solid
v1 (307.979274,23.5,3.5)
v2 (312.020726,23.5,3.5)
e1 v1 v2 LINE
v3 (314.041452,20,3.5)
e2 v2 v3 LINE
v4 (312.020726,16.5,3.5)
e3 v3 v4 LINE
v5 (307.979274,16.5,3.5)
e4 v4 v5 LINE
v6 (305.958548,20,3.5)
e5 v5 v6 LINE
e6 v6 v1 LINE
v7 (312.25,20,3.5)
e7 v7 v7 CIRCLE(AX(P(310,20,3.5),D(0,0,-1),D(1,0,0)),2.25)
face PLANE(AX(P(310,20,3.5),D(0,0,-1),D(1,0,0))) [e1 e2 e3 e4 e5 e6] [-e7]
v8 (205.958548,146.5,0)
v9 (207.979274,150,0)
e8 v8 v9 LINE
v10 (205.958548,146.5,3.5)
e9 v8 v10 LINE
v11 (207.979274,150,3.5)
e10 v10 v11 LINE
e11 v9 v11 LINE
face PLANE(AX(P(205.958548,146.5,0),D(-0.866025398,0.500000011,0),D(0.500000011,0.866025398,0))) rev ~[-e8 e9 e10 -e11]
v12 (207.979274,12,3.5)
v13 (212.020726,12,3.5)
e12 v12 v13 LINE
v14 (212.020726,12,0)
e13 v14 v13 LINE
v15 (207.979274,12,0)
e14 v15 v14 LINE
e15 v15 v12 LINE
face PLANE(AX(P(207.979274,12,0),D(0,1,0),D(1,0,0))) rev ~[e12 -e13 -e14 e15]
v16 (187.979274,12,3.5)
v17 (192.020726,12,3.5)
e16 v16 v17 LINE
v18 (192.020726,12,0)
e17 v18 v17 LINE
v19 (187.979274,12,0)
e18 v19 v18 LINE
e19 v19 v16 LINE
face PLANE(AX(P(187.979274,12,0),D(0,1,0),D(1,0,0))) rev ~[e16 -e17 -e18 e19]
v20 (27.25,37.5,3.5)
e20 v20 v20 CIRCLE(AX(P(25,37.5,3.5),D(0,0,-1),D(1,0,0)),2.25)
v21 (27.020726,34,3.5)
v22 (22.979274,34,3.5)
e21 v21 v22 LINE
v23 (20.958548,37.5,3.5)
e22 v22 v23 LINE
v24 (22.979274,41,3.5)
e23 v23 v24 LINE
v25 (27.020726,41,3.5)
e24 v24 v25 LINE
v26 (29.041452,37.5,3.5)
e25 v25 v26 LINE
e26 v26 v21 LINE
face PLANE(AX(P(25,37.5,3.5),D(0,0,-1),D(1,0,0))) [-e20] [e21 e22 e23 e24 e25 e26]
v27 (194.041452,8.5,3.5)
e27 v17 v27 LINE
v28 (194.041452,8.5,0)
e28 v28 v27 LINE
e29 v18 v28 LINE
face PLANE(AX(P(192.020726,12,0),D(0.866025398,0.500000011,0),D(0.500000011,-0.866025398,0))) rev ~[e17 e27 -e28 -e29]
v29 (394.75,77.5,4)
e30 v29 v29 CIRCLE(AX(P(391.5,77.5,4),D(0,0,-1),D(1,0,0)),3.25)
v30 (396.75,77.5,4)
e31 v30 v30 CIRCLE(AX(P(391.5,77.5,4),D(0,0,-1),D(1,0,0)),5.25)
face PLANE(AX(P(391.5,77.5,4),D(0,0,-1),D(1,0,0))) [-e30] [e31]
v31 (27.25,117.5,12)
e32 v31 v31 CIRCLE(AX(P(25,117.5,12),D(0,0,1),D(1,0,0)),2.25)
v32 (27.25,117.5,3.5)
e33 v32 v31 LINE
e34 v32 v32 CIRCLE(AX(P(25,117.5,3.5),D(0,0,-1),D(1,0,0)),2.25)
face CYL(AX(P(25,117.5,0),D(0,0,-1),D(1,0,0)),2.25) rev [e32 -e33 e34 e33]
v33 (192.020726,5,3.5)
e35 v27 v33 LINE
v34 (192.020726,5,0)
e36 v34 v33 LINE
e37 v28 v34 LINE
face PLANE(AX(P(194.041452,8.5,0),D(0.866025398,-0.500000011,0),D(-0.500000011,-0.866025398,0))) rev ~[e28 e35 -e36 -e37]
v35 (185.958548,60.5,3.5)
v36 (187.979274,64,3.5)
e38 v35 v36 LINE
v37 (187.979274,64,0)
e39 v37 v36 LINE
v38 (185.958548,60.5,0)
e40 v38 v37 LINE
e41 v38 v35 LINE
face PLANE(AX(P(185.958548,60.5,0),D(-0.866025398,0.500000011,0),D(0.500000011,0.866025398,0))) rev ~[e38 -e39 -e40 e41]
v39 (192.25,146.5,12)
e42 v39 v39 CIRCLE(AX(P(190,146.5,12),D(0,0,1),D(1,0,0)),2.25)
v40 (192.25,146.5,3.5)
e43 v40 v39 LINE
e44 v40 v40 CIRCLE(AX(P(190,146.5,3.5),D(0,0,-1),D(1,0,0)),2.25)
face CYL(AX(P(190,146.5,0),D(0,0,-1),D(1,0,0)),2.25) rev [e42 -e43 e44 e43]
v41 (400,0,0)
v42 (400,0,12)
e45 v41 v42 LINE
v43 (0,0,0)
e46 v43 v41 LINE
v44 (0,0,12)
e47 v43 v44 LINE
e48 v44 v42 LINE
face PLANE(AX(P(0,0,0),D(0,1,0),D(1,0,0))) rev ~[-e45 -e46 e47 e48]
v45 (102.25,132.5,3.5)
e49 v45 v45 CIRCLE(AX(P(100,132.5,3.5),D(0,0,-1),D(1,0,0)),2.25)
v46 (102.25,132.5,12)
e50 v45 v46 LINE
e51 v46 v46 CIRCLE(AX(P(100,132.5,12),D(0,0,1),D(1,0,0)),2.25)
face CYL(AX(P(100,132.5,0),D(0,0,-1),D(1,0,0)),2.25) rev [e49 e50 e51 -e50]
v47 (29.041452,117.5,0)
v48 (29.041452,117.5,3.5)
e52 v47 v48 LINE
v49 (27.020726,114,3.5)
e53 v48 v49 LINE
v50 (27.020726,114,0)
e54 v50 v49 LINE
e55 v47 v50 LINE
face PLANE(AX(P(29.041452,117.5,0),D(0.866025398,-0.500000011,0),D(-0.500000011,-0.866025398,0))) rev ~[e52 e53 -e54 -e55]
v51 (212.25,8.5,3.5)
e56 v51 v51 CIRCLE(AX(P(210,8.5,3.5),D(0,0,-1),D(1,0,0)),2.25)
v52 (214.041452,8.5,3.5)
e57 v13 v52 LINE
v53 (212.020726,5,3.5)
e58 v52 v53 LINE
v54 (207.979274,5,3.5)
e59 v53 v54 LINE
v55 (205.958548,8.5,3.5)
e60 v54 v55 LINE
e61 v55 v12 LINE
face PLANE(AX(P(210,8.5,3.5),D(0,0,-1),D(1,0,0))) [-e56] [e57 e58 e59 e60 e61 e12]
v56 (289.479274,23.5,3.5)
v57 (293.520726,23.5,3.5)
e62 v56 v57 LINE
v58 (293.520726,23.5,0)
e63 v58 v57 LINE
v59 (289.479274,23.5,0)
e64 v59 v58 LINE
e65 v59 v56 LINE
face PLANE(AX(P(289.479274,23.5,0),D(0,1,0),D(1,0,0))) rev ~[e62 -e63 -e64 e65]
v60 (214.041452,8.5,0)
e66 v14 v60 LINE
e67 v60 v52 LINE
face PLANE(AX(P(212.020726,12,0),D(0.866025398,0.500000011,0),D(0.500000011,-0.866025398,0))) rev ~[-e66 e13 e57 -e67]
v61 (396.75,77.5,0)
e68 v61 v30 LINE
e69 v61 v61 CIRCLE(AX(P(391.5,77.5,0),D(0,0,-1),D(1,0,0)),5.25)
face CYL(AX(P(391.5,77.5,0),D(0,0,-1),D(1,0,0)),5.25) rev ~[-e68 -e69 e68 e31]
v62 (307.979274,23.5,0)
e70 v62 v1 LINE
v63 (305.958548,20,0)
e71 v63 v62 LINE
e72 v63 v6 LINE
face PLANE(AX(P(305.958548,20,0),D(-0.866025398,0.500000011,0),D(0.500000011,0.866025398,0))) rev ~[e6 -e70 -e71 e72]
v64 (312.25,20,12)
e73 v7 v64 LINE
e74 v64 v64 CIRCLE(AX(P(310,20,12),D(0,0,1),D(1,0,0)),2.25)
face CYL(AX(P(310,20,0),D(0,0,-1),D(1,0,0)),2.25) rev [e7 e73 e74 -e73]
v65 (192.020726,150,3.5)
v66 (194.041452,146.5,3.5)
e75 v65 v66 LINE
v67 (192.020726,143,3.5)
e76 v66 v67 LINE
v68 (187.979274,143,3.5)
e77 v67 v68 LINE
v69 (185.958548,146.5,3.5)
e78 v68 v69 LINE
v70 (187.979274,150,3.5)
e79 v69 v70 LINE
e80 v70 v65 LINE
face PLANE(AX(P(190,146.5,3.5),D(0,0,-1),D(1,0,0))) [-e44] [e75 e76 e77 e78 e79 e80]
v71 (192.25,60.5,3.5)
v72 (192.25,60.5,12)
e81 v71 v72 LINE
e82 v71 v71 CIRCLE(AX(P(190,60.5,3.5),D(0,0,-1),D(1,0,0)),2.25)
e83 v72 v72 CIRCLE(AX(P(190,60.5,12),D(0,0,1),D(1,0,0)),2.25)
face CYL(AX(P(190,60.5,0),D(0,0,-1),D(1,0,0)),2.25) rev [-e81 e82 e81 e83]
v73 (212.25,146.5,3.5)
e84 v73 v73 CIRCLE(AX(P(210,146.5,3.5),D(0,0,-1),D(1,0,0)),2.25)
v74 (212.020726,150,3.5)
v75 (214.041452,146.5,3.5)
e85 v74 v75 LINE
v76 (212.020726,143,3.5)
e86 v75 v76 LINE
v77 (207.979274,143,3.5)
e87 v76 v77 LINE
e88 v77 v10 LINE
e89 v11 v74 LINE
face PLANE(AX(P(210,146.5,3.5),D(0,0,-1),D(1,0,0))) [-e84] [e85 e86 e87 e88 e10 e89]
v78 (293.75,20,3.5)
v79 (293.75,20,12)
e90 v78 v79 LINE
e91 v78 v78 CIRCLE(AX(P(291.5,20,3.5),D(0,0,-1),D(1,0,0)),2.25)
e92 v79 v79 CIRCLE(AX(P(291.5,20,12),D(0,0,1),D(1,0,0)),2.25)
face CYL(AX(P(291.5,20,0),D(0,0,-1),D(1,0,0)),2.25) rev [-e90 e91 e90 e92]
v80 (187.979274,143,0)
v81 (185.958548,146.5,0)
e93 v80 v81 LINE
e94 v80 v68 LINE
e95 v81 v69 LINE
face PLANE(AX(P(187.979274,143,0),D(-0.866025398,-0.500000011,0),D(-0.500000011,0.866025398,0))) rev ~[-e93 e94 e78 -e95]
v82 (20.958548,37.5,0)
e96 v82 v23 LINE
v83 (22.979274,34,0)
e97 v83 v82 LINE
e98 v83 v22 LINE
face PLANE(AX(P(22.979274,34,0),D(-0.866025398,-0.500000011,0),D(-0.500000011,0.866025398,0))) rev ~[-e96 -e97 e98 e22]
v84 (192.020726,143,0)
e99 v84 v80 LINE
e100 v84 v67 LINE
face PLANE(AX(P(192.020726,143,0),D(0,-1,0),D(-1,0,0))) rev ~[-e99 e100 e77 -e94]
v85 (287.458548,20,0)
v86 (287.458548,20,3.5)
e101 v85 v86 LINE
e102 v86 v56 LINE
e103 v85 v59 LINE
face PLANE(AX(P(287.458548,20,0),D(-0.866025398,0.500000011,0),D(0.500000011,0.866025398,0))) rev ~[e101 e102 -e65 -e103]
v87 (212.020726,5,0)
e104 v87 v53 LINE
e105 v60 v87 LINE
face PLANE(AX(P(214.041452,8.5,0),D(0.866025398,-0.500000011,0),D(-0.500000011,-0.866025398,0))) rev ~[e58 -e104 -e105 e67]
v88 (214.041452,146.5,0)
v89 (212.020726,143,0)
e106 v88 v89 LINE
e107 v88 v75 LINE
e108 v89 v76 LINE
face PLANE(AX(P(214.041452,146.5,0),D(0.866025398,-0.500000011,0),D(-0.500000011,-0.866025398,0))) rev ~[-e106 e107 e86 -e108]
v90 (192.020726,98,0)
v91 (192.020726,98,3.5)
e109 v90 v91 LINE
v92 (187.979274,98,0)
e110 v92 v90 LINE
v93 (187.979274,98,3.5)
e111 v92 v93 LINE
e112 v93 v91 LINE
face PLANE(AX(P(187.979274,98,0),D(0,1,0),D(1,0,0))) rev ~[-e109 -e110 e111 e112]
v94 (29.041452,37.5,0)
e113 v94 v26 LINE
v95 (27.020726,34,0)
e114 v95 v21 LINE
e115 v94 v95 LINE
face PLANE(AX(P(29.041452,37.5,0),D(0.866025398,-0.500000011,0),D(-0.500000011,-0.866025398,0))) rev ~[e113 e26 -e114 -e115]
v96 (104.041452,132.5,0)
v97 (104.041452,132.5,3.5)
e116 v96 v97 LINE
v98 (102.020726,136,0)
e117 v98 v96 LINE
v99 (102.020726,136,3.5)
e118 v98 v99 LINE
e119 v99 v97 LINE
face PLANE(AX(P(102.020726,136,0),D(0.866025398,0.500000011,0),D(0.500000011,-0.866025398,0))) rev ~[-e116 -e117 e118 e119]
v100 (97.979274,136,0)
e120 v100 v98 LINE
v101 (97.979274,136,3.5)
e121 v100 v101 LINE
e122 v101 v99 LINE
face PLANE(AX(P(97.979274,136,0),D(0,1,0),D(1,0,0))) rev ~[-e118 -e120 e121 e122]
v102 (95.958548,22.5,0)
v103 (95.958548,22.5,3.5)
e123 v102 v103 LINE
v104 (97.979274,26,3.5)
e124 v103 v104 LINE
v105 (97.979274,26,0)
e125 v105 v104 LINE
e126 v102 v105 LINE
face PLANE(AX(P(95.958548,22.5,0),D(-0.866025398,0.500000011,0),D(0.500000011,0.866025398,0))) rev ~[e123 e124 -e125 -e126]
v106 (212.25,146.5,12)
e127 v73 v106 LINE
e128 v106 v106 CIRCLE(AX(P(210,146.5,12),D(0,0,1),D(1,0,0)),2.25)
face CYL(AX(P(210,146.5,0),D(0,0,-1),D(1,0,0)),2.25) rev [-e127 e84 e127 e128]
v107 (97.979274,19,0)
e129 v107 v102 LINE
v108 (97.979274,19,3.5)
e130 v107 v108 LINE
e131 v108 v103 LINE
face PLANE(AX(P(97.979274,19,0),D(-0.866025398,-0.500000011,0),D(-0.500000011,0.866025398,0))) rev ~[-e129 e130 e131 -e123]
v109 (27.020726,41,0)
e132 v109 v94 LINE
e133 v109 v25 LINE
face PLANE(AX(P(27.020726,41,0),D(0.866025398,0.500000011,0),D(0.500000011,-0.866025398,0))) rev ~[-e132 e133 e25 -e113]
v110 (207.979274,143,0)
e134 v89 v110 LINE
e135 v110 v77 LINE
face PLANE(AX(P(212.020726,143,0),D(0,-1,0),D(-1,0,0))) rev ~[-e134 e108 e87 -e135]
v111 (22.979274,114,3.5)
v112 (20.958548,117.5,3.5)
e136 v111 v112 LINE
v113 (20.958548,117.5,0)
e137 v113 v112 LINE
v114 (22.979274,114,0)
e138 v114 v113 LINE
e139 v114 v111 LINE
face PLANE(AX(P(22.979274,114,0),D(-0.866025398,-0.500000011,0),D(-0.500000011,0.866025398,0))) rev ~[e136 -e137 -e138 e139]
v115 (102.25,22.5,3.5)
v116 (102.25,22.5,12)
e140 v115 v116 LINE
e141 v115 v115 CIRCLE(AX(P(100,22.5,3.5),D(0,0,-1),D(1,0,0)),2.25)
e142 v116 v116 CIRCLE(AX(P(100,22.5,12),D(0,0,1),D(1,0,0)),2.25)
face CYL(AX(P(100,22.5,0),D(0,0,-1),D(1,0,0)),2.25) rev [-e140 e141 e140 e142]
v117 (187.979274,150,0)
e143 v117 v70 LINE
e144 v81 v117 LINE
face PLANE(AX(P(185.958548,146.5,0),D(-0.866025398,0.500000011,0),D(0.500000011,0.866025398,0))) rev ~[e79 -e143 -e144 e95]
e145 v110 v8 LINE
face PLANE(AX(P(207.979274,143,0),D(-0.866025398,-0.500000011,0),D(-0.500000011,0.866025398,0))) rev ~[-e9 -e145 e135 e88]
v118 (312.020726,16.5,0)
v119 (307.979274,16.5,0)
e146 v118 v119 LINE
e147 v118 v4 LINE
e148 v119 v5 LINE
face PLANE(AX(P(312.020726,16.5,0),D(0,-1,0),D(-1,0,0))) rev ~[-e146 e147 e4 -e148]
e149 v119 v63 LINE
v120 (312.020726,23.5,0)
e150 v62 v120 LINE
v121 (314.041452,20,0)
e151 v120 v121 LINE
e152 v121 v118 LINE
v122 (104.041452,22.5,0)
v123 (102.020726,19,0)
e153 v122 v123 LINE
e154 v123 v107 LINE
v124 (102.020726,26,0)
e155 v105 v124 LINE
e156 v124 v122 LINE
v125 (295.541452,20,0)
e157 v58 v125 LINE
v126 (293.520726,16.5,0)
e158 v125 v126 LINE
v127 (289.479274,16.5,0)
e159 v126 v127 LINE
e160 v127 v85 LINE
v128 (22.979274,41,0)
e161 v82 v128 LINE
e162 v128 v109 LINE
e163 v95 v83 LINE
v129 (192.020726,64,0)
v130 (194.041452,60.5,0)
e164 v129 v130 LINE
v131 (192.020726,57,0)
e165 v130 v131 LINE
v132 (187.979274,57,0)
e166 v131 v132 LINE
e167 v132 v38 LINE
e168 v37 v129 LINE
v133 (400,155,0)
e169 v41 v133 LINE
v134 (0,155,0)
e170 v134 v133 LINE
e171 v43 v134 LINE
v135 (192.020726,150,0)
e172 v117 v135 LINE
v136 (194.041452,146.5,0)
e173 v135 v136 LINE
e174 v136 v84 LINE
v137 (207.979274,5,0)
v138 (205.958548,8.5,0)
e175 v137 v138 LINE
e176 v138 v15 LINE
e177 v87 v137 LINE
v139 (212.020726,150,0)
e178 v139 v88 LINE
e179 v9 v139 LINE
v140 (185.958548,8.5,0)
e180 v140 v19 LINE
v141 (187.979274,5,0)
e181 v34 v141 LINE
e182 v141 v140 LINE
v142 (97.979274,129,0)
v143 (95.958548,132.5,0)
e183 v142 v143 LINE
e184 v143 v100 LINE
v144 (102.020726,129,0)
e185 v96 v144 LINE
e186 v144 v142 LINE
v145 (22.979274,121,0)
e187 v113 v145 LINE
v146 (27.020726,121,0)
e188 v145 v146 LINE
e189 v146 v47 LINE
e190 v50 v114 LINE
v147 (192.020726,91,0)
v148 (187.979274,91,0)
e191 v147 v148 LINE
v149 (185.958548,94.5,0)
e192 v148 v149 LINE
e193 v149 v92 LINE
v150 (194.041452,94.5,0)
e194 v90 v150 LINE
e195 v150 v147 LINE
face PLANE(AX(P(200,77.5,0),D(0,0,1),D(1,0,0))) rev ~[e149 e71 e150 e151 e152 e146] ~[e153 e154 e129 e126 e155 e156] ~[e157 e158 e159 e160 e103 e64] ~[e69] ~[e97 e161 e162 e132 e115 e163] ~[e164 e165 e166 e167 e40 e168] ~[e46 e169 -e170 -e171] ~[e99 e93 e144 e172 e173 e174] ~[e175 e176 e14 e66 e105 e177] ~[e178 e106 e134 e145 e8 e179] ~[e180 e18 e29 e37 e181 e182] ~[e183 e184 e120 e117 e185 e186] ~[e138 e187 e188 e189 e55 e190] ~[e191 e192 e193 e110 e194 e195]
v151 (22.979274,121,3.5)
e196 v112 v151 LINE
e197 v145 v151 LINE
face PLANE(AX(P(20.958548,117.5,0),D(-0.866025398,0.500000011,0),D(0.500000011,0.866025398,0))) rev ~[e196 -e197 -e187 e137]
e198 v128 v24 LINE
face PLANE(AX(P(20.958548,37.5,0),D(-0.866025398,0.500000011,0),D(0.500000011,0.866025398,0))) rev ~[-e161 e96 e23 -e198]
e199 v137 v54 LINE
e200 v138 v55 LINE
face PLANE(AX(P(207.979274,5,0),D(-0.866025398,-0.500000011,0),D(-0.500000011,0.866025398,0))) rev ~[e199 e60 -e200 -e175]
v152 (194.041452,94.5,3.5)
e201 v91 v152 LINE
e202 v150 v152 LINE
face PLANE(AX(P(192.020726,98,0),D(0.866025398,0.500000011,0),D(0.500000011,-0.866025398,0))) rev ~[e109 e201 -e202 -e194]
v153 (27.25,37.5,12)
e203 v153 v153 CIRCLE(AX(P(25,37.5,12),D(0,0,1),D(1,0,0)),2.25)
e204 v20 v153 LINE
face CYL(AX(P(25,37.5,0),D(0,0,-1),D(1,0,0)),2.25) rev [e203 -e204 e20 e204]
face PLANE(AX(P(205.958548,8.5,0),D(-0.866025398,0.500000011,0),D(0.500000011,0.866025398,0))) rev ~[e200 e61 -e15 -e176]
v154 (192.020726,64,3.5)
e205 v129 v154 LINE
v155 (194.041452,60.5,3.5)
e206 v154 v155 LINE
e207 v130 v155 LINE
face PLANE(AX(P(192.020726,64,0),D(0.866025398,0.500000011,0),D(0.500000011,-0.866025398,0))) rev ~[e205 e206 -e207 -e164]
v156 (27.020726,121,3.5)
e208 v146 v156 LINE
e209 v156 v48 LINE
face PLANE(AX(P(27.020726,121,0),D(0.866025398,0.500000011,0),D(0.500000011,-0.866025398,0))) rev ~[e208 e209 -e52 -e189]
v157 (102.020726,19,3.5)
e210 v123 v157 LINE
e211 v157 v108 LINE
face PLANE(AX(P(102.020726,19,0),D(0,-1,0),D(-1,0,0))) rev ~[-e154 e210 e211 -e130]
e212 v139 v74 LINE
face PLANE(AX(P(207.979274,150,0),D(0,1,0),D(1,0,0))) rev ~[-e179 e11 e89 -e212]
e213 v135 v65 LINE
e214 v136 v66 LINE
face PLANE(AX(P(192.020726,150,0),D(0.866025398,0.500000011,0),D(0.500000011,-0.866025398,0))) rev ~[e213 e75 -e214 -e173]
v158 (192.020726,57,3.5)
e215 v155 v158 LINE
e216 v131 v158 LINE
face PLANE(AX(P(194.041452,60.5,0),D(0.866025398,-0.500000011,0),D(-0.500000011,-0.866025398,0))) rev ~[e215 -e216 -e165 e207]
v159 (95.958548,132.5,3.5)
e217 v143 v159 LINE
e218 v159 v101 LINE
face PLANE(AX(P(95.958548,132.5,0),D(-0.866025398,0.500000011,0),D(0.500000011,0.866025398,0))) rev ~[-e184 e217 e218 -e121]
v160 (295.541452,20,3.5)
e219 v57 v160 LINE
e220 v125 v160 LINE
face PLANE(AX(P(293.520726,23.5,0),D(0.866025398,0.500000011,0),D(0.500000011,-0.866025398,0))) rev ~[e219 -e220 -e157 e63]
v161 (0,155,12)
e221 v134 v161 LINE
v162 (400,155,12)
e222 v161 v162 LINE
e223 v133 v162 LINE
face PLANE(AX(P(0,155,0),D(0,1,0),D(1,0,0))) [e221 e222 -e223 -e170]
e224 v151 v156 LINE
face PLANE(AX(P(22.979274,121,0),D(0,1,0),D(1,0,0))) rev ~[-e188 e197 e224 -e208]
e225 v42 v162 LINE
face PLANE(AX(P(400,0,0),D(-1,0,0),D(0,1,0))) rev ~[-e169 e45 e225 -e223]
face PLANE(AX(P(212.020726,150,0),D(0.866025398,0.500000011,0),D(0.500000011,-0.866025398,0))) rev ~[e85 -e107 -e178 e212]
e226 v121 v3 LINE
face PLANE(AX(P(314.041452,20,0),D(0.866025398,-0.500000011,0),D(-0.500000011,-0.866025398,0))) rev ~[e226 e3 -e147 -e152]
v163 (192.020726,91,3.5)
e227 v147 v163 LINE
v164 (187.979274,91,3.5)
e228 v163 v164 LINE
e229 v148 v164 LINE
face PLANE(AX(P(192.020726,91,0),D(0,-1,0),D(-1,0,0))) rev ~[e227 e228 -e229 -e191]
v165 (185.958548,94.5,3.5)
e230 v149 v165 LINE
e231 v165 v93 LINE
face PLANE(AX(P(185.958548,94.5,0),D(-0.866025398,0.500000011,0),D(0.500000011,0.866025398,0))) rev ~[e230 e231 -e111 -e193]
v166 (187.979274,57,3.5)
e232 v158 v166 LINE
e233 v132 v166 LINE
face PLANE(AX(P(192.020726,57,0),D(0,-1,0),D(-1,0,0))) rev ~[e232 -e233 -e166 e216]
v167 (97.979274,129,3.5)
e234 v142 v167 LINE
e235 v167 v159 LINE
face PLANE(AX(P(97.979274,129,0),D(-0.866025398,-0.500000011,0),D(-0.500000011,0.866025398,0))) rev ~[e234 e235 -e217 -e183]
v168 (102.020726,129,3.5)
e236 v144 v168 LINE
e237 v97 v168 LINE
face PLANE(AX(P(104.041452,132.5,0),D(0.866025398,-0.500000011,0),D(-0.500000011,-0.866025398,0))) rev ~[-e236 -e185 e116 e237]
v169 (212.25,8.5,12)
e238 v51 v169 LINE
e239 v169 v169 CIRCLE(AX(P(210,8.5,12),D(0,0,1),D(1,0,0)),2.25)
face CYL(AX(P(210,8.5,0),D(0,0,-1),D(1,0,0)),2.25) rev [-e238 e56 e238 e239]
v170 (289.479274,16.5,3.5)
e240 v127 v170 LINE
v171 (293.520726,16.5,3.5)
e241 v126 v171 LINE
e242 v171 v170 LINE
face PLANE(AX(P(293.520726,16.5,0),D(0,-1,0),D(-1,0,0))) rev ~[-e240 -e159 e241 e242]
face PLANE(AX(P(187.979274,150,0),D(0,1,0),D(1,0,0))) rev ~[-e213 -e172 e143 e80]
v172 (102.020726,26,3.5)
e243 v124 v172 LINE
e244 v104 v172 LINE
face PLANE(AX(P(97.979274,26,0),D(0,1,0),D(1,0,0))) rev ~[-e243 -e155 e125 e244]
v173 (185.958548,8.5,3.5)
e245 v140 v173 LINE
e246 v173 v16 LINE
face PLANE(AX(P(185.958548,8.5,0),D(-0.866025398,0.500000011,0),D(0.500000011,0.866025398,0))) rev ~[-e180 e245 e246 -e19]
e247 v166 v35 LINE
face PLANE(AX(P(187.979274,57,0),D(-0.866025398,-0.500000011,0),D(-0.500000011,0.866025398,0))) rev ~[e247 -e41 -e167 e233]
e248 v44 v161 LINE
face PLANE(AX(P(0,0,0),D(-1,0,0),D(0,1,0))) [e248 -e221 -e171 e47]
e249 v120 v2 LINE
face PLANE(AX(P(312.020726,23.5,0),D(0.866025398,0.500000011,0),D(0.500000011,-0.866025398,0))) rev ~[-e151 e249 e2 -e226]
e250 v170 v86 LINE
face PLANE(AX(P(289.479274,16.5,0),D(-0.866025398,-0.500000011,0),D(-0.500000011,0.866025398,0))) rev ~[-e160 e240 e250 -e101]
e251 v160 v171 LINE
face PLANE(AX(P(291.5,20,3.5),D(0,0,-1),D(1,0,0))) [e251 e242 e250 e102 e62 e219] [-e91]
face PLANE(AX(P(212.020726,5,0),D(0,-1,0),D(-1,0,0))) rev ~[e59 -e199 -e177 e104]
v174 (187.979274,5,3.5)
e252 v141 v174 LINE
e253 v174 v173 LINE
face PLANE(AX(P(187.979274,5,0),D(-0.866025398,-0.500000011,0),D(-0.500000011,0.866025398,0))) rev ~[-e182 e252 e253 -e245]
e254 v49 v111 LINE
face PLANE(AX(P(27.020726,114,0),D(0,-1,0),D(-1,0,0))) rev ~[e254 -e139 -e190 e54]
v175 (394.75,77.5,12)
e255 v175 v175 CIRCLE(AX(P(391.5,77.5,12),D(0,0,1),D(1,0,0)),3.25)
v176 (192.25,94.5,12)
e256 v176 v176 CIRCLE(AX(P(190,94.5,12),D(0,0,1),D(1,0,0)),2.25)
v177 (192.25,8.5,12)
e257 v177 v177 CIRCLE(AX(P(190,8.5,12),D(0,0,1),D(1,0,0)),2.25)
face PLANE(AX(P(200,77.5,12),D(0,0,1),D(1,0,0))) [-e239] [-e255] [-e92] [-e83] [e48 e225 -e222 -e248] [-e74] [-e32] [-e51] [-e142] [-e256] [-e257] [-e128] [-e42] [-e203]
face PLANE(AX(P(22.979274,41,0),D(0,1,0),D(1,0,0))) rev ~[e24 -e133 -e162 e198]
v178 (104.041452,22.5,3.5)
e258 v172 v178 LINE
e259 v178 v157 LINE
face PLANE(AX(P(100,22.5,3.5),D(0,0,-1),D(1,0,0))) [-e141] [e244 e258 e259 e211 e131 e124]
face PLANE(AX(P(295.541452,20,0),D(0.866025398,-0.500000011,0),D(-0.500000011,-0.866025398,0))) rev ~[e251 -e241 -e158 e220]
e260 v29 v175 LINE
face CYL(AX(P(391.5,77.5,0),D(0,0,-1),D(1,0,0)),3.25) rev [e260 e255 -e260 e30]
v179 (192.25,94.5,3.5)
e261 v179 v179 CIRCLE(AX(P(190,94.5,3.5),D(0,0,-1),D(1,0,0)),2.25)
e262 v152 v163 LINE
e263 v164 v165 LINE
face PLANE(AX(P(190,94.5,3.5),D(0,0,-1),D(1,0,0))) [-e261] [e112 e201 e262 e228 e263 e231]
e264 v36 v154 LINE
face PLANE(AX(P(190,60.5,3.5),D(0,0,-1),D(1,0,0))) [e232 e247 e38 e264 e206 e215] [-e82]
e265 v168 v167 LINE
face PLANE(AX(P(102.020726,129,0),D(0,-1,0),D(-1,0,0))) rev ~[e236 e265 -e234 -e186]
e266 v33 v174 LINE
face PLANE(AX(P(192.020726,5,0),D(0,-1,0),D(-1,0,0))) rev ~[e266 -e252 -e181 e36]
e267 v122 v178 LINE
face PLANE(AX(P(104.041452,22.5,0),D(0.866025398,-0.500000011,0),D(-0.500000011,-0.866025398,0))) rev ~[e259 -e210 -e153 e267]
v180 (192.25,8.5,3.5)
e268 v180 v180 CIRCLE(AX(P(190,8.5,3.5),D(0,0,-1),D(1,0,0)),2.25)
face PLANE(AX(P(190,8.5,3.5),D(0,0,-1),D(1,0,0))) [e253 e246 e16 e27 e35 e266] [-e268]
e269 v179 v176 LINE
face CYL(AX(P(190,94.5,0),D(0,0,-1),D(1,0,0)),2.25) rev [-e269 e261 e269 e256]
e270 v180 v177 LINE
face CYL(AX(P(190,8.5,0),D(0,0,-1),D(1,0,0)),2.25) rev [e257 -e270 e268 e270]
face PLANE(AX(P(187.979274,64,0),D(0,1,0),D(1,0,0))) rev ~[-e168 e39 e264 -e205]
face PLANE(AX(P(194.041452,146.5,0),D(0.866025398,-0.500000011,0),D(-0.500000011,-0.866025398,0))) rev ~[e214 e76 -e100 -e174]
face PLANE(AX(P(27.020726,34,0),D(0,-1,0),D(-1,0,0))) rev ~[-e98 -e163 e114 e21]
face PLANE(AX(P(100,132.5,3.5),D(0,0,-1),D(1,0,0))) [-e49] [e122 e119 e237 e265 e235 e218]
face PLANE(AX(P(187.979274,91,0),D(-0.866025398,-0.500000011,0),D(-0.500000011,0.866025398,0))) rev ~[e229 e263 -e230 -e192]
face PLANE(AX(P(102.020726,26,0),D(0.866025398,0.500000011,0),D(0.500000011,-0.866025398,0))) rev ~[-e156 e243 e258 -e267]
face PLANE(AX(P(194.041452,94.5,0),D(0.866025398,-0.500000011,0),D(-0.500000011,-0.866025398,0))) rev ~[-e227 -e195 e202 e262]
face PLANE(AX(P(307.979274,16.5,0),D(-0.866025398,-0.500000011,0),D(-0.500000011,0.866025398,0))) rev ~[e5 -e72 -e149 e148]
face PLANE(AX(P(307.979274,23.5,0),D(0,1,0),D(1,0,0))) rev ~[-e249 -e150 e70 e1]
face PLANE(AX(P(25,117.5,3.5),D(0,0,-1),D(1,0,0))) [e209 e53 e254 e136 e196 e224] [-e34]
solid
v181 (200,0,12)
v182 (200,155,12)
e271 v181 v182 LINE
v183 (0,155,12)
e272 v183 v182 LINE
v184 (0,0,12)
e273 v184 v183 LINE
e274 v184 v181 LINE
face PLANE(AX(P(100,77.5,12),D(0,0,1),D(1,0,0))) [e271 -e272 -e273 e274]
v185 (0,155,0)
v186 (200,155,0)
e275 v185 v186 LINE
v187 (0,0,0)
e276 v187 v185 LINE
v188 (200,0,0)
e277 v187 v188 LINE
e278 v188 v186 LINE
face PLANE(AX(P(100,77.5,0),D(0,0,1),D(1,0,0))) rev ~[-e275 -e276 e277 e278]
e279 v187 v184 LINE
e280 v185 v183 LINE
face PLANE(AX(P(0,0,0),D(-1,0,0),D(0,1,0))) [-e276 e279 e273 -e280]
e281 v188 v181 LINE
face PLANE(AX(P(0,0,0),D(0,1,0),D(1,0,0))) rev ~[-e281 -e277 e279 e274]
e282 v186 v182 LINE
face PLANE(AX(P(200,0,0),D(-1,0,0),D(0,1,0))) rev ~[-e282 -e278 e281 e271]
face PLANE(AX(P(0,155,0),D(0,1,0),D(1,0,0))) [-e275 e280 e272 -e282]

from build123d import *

# Parameters (mm, degrees)
SKETCH_W        = 400
SKETCH_H        = 155
SKETCH_R        = 2.25
SKETCH_R_2      = 3.25
PAD_DEPTH       = 12
POCKET_DEPTH    = 3.5
SKETCH002_R     = 5.25
POCKET001_DEPTH = 4
BOX_W           = 200
BOX_H           = 155
BOX_DEPTH       = 12


with BuildPart() as body:
    # Sketch → Pad (new body)
    with BuildSketch(Plane.XY):
        with Locations((200, 77.5)):
            Rectangle(SKETCH_W, SKETCH_H)
        with Locations((190, 8.5)):
            Circle(SKETCH_R, mode=Mode.SUBTRACT)
        with Locations((190, 146.5)):
            Circle(SKETCH_R, mode=Mode.SUBTRACT)
        with Locations((210, 8.5)):
            Circle(SKETCH_R, mode=Mode.SUBTRACT)
        with Locations((210, 146.5)):
            Circle(SKETCH_R, mode=Mode.SUBTRACT)
        with Locations((391.5, 77.5)):
            Circle(SKETCH_R_2, mode=Mode.SUBTRACT)
        with Locations((25, 37.5)):
            Circle(SKETCH_R, mode=Mode.SUBTRACT)
        with Locations((25, 117.5)):
            Circle(SKETCH_R, mode=Mode.SUBTRACT)
        with Locations((100, 22.5)):
            Circle(SKETCH_R, mode=Mode.SUBTRACT)
        with Locations((100, 132.5)):
            Circle(SKETCH_R, mode=Mode.SUBTRACT)
        with Locations((190, 60.5)):
            Circle(SKETCH_R, mode=Mode.SUBTRACT)
        with Locations((190, 94.5)):
            Circle(SKETCH_R, mode=Mode.SUBTRACT)
        with Locations((291.5, 20)):
            Circle(SKETCH_R, mode=Mode.SUBTRACT)
        with Locations((310, 20)):
            Circle(SKETCH_R, mode=Mode.SUBTRACT)
    extrude(amount=PAD_DEPTH)

    # Sketch001 (on Face18 of Pad) → Pocket (cut)
    with BuildSketch(Plane(origin=(0, 0, 0), x_dir=(1, 0, 0), z_dir=(0, 0, -1))):
        Polygon((29.041452, -37.5), (27.020726, -34), (22.979274, -34), (20.958548, -37.5), (22.979274, -41), (27.020726, -41), align=None)
        Polygon((102.020726, -26), (104.041452, -22.5), (102.020726, -19), (97.979274, -19), (95.958548, -22.5), (97.979274, -26), align=None)
        Polygon((194.041452, -60.5), (192.020726, -57), (187.979274, -57), (185.958548, -60.5), (187.979274, -64), (192.020726, -64), align=None)
        Polygon((27.020726, -114), (22.979274, -114), (20.958548, -117.5), (22.979274, -121), (27.020726, -121), (29.041452, -117.5), align=None)
        Polygon((192.020726, -5), (187.979274, -5), (185.958548, -8.5), (187.979274, -12), (192.020726, -12), (194.041452, -8.5), align=None)
        Polygon((102.020726, -129), (97.979274, -129), (95.958548, -132.5), (97.979274, -136), (102.020726, -136), (104.041452, -132.5), align=None)
        Polygon((192.020726, -91), (187.979274, -91), (185.958548, -94.5), (187.979274, -98), (192.020726, -98), (194.041452, -94.5), align=None)
        Polygon((192.020726, -143), (187.979274, -143), (185.958548, -146.5), (187.979274, -150), (192.020726, -150), (194.041452, -146.5), align=None)
        Polygon((212.020726, -12), (214.041452, -8.5), (212.020726, -5), (207.979274, -5), (205.958548, -8.5), (207.979274, -12), align=None)
        Polygon((212.020726, -143), (207.979274, -143), (205.958548, -146.5), (207.979274, -150), (212.020726, -150), (214.041452, -146.5), align=None)
        Polygon((295.541452, -20), (293.520726, -16.5), (289.479274, -16.5), (287.458548, -20), (289.479274, -23.5), (293.520726, -23.5), align=None)
        Polygon((312.020726, -16.5), (307.979274, -16.5), (305.958548, -20), (307.979274, -23.5), (312.020726, -23.5), (314.041452, -20), align=None)
    extrude(amount=-POCKET_DEPTH, mode=Mode.SUBTRACT)

    # Sketch002 (on Face4 of Pocket) → Pocket001 (cut)
    with BuildSketch(Plane(origin=(0, 0, 0), x_dir=(1, 0, 0), z_dir=(0, 0, -1))):
        with Locations((391.5, -77.5)):
            Circle(SKETCH002_R)
    extrude(amount=-POCKET001_DEPTH, mode=Mode.SUBTRACT)


with BuildPart() as cube:
    # Box → Box (new body)
    with BuildSketch(Plane.XY):
        with Locations((100, 77.5)):
            Rectangle(BOX_W, BOX_H)
    extrude(amount=BOX_DEPTH)


solid = Compound([body.part, cube.part])
